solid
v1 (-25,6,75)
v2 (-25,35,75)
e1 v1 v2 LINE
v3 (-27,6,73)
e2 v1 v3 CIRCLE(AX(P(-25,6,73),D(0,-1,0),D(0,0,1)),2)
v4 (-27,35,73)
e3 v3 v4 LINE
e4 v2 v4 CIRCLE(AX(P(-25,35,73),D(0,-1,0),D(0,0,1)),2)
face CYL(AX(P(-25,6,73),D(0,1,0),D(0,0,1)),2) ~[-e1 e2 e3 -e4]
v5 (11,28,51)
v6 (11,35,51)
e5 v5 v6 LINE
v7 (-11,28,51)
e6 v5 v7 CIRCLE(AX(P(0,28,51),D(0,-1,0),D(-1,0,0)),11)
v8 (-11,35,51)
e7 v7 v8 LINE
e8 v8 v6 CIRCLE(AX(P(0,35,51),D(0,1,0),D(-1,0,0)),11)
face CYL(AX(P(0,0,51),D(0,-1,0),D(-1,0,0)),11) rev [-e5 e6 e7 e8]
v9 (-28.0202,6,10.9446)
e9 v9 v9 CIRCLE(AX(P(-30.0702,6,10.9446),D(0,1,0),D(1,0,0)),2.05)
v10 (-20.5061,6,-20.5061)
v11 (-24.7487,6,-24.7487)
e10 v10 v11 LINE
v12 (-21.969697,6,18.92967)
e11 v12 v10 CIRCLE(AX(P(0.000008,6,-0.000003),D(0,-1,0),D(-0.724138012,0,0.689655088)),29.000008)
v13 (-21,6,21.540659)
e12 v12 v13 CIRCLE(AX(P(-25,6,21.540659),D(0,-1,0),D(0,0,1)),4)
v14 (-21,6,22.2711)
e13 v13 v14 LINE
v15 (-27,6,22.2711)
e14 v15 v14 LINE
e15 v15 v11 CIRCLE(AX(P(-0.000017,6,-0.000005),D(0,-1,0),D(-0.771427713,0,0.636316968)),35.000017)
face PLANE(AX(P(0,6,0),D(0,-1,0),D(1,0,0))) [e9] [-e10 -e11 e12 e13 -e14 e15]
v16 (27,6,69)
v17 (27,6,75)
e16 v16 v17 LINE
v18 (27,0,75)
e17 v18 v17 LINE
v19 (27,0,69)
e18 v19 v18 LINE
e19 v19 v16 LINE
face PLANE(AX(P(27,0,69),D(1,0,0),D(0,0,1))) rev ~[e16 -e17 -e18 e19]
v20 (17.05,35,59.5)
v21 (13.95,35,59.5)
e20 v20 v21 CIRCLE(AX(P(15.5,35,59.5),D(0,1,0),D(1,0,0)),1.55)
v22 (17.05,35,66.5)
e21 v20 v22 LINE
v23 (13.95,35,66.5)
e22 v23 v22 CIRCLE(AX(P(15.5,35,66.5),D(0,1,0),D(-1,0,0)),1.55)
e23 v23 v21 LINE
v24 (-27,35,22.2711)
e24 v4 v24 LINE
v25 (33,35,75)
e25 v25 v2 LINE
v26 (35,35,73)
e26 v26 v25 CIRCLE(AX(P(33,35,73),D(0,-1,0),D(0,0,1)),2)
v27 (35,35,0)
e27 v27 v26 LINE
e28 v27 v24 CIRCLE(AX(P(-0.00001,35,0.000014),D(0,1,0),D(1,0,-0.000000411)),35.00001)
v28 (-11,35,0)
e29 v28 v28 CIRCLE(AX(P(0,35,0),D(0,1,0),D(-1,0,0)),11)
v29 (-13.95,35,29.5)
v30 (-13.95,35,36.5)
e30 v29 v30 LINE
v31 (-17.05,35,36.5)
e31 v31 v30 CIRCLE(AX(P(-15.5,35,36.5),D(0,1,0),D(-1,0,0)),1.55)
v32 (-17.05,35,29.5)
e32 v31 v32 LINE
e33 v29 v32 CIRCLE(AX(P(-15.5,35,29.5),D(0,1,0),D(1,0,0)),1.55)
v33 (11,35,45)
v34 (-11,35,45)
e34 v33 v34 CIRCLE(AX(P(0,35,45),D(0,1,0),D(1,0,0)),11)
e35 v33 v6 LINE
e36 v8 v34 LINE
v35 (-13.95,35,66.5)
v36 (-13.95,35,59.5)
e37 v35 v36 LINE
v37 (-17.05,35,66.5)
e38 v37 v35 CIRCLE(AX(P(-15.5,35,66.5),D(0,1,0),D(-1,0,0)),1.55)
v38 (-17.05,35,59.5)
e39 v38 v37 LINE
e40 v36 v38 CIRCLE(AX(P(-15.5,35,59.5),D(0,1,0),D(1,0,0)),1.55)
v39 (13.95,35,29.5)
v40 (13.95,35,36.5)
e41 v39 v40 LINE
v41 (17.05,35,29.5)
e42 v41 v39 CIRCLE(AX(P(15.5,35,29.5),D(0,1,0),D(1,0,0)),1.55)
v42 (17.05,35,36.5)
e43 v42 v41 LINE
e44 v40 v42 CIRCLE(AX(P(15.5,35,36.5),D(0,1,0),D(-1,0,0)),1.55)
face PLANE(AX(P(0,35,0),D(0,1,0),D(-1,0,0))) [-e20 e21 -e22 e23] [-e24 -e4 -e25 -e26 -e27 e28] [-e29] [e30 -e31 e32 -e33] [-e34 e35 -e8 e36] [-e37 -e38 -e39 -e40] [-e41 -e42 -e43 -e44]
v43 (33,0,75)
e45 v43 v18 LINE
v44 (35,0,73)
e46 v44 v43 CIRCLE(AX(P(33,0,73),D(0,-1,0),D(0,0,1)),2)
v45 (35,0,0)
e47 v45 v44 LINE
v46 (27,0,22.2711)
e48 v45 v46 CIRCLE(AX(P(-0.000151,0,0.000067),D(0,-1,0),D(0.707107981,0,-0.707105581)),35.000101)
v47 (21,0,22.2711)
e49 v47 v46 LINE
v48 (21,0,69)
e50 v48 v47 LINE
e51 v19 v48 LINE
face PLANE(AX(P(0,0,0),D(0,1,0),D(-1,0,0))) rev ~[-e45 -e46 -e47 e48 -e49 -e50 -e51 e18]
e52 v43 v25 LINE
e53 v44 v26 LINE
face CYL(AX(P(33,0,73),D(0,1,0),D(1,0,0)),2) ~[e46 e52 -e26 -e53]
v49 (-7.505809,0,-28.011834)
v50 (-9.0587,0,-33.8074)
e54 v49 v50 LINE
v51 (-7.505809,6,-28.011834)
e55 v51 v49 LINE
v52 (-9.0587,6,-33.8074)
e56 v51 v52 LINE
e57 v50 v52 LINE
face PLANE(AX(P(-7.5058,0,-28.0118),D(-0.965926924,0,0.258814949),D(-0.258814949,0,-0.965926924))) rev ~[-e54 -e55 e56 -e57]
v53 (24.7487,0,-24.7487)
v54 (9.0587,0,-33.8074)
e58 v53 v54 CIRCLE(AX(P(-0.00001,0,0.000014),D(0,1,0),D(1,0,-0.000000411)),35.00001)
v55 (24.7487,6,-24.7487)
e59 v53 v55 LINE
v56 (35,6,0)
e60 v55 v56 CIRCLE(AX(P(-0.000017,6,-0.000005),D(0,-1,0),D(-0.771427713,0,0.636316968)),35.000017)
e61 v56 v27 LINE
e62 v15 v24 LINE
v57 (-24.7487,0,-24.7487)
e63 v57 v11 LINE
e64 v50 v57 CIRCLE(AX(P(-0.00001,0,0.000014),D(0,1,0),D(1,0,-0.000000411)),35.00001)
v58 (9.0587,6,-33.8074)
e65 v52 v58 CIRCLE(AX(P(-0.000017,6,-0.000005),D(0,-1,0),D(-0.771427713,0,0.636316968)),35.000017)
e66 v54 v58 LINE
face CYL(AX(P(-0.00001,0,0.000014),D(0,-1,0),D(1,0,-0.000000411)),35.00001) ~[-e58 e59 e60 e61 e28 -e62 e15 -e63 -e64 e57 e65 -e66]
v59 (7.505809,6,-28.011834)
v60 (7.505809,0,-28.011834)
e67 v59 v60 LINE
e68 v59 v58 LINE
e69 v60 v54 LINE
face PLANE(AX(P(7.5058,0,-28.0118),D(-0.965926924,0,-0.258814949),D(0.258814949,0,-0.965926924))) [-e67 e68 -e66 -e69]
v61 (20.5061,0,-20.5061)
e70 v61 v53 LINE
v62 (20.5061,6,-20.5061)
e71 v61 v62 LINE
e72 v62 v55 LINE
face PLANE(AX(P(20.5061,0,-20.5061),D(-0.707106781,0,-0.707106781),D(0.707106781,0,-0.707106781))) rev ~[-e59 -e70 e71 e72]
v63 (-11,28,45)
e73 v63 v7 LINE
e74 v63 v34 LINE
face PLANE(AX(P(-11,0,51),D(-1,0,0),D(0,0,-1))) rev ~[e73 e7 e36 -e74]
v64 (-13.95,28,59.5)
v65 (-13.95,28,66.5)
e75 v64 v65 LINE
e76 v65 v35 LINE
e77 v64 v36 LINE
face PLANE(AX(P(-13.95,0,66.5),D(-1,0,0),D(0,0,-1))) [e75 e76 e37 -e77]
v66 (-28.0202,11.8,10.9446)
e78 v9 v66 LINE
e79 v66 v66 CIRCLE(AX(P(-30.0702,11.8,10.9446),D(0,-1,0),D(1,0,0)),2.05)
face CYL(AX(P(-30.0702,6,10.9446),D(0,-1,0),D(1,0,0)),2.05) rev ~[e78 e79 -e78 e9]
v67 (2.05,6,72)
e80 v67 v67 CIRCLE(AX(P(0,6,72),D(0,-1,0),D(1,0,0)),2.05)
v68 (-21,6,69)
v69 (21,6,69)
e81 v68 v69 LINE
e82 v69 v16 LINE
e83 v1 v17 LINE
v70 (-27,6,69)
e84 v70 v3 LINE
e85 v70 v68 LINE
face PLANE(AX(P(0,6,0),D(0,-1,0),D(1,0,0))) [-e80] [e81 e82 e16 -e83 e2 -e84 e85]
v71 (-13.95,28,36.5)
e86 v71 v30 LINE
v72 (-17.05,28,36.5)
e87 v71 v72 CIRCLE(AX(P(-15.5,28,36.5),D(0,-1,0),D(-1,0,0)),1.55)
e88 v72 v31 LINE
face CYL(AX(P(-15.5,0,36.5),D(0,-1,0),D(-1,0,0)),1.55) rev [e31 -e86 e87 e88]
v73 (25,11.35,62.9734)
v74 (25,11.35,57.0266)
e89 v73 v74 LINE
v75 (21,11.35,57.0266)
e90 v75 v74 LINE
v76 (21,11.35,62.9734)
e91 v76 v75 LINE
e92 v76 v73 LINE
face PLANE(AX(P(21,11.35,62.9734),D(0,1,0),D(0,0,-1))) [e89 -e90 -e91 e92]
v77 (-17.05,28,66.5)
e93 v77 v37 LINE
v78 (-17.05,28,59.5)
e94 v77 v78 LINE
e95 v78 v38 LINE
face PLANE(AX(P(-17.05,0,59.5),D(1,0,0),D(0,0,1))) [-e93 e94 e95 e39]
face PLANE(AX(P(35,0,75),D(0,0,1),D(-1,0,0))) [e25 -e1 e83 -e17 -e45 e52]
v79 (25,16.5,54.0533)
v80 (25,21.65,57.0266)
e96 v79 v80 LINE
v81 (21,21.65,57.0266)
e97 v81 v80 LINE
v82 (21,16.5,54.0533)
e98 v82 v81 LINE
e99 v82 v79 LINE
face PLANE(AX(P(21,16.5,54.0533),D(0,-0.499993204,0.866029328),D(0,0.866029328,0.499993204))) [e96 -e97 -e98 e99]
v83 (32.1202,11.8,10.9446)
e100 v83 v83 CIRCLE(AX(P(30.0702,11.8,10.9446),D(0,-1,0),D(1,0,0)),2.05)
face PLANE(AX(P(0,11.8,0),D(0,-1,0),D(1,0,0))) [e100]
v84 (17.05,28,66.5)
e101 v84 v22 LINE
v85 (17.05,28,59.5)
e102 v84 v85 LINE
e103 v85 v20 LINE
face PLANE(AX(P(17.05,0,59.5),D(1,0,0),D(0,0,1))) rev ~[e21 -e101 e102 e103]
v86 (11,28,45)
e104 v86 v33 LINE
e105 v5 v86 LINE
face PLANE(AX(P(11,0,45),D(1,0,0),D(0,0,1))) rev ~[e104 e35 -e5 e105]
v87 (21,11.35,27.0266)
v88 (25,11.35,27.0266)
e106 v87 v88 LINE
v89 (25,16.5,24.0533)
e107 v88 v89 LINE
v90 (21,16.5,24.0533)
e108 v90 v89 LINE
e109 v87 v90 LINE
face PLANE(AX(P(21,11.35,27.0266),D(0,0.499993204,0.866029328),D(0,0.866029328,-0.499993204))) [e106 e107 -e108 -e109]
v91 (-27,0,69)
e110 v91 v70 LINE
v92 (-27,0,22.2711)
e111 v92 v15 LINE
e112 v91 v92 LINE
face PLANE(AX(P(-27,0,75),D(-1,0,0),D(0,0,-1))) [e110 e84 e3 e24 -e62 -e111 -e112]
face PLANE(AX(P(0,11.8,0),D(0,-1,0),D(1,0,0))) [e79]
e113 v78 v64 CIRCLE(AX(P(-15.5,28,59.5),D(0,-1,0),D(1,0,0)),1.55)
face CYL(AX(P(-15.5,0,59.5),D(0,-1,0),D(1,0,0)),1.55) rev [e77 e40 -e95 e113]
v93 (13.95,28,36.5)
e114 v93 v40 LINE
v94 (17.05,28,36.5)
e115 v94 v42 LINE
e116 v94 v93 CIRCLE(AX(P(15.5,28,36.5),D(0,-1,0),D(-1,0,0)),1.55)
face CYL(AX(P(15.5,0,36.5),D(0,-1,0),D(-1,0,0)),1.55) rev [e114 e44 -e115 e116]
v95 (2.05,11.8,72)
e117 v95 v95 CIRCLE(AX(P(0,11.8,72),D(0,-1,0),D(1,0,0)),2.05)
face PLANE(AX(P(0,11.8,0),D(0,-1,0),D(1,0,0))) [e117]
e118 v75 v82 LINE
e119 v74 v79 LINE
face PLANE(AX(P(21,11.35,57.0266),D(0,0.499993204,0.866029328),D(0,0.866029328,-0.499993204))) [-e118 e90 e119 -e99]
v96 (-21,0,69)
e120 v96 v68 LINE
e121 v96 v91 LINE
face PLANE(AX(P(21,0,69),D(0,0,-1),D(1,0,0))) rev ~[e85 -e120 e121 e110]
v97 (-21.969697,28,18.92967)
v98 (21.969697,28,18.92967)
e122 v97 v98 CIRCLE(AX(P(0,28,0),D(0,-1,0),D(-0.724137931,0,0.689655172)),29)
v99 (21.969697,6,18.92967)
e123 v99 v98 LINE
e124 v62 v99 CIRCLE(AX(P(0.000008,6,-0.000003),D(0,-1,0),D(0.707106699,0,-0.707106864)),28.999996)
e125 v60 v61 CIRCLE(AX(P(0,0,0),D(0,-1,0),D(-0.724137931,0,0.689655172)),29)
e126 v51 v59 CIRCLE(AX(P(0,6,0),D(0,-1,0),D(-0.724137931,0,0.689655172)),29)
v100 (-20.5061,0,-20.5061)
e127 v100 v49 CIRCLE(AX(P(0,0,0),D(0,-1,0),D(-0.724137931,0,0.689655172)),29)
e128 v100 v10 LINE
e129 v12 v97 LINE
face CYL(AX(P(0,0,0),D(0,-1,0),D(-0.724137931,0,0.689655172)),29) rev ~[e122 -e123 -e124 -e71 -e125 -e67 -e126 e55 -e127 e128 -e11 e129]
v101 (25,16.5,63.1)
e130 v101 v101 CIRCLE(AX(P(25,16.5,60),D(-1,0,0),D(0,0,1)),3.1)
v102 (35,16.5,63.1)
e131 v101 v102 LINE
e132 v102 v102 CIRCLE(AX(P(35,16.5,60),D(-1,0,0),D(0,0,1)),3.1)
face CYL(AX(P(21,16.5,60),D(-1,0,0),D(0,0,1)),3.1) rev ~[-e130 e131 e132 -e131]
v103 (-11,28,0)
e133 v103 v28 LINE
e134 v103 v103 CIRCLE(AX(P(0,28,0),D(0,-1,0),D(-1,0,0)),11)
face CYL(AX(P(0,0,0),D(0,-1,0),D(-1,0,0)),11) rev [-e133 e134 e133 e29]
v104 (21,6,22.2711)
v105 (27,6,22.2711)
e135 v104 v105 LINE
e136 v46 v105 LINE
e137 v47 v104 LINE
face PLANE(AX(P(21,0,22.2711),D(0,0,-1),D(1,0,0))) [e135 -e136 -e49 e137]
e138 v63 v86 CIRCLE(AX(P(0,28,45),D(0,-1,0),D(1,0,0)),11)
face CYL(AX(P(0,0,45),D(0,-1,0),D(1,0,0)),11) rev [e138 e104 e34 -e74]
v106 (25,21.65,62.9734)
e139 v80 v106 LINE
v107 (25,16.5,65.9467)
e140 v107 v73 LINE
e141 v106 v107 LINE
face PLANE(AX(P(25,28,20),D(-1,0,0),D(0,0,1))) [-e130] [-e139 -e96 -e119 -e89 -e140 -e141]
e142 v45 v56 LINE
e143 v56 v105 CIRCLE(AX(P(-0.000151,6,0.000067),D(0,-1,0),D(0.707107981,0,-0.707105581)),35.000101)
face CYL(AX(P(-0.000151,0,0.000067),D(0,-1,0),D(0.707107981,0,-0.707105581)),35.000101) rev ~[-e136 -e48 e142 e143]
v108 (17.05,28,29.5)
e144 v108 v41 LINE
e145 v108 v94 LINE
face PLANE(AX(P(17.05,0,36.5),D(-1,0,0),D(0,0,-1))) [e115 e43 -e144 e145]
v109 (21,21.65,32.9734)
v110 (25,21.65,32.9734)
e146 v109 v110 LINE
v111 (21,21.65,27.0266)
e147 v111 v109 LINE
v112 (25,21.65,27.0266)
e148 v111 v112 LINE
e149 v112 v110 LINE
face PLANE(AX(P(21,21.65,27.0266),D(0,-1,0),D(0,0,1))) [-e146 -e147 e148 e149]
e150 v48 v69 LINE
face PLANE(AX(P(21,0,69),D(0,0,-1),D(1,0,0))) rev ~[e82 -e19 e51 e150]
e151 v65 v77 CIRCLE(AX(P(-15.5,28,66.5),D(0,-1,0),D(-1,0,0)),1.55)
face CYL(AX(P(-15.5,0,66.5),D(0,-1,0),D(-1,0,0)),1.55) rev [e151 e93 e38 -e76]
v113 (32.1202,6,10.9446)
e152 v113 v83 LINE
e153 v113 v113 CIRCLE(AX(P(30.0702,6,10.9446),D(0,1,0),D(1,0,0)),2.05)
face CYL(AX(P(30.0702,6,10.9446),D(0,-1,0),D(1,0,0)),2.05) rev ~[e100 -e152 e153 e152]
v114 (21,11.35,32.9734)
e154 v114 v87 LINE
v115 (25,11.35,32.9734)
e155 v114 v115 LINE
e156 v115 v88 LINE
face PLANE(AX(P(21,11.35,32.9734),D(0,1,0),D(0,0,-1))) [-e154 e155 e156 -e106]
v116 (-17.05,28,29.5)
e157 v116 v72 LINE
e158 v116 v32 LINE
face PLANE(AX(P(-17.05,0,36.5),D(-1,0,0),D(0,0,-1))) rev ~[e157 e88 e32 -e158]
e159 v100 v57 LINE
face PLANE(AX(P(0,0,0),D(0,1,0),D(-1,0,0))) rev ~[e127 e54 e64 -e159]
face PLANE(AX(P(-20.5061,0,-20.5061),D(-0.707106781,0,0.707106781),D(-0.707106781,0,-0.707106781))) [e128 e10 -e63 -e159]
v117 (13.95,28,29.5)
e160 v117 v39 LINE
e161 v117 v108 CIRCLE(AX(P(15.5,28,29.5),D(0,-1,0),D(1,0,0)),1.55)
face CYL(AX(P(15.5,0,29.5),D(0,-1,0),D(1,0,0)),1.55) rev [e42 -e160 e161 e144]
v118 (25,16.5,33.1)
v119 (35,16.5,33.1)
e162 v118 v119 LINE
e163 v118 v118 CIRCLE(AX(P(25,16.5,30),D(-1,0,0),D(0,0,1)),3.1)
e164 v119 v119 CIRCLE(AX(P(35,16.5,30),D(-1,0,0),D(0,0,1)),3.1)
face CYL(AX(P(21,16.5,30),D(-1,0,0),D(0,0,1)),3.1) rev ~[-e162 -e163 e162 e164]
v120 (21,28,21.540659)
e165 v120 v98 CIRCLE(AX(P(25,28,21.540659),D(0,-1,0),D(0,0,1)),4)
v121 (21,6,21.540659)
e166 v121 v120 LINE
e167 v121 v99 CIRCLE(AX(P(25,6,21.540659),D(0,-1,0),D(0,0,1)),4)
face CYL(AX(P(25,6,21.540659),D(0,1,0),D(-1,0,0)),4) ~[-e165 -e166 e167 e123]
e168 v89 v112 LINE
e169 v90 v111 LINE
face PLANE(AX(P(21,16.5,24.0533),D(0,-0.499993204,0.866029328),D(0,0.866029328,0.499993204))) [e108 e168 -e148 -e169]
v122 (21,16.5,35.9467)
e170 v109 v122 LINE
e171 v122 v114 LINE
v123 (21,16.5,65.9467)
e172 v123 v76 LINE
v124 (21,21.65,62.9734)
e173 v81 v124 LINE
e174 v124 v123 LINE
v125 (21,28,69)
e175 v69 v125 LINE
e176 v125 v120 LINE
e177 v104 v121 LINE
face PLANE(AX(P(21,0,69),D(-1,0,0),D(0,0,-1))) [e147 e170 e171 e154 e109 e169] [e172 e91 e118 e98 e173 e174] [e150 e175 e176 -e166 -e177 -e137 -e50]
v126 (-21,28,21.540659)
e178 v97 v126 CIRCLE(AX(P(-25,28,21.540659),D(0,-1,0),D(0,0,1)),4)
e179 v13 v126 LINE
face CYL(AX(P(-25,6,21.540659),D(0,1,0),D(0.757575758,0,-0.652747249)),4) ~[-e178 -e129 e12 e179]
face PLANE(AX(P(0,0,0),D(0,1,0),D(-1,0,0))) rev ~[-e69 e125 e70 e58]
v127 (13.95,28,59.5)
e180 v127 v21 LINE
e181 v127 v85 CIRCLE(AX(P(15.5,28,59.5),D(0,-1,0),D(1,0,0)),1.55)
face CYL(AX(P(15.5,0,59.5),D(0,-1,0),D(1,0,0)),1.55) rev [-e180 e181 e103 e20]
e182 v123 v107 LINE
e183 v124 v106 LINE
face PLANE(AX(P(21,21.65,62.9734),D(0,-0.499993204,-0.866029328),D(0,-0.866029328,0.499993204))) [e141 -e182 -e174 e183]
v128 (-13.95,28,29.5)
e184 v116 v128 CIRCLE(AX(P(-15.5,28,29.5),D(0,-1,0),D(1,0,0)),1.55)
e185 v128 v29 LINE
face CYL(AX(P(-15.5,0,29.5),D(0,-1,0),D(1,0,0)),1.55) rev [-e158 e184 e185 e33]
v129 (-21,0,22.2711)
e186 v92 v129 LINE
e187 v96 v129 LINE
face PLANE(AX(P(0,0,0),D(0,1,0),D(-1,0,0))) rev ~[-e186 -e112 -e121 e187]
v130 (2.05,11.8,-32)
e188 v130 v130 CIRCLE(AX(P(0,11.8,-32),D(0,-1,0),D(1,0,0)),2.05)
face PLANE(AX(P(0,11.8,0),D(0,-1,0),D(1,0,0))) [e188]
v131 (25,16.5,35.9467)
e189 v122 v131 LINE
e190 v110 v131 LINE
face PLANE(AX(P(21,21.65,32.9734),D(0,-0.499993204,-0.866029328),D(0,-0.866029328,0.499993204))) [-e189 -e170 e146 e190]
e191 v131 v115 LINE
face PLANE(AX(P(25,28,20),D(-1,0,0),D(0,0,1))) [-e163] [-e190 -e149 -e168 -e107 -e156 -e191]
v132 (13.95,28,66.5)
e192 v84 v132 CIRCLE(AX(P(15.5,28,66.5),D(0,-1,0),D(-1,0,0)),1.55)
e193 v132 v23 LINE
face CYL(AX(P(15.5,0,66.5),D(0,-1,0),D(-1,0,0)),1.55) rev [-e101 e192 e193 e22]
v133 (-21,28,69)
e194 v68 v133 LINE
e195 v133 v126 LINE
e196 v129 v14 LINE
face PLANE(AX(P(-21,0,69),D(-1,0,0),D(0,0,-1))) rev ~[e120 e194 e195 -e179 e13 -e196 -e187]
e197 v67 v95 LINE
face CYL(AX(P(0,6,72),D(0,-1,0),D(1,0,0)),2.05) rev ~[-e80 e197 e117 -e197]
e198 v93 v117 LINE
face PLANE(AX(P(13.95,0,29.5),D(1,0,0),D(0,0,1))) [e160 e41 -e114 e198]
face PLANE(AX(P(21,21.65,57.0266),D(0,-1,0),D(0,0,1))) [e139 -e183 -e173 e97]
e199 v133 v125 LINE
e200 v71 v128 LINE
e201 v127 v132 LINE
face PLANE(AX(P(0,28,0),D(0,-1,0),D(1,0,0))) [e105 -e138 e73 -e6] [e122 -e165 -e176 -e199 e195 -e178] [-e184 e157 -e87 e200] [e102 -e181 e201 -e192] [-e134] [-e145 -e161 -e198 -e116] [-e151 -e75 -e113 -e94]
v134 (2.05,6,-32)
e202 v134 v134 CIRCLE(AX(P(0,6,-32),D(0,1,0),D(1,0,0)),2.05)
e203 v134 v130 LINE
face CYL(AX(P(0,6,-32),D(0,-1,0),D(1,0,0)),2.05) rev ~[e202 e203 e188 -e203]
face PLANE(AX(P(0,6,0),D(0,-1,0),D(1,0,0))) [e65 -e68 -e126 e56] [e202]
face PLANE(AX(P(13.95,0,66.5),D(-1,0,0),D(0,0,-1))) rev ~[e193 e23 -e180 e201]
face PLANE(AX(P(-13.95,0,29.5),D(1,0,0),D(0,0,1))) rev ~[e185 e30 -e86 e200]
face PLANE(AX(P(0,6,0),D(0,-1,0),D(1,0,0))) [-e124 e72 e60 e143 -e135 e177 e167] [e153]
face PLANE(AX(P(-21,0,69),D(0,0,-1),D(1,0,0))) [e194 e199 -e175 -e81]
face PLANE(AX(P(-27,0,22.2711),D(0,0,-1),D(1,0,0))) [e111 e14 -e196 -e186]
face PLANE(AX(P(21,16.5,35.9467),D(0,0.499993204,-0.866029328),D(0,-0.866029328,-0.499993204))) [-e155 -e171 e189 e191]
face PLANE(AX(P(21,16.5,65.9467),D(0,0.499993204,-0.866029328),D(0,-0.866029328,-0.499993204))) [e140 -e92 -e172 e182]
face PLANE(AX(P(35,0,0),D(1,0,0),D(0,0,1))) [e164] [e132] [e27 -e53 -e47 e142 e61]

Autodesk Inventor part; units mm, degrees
ref_plane "YZ Plane" through (0, 0, 0) normal (1, 0, 0) x (0, 1, 0)
ref_plane "XZ Plane" through (0, 0, 0) normal (0, 1, 0) x (-1, 0, 0)
ref_plane "XY Plane" through (0, 0, 0) normal (0, 0, 1) x (1, 0, 0)
sketch "Boceto1" plane through (0, 0, 0) normal (0, 1, 0) x (-1, 0, 0)
  circle A0 centre (0, 0) radius 11
  arc A1 (-35, 0) -> (27, 22.2711) centre (0, 0) ccw
  line L0 (-35, 0) -> (-35, 75)
  line L1 (-35, 75) -> (27, 75)
  line L2 (27, 75) -> (27, 22.2711)
  arc A2 (-11, 45) -> (11, 45) centre (0, 45) ccw
  arc A3 (11, 51) -> (-11, 51) centre (0, 51) ccw
  line L3 (11, 51) -> (11, 45)
  line L4 (-11, 45) -> (-11, 51)
  line L5 (15.5, 66.5) -> (15.5, 59.5) construction
  line L6 (13.95, 66.5) -> (13.95, 59.5)
  line L7 (17.05, 59.5) -> (17.05, 66.5)
  arc A4 (17.05, 66.5) -> (13.95, 66.5) centre (15.5, 66.5) ccw
  arc A5 (13.95, 59.5) -> (17.05, 59.5) centre (15.5, 59.5) ccw
  line L8 (0, 51) -> (0, 45)
  line L9 (0, 48) -> (2.6814, 48)
  line L10 (15.5, 29.5) -> (15.5, 36.5) construction
  line L11 (13.95, 29.5) -> (13.95, 36.5)
  line L12 (17.05, 36.5) -> (17.05, 29.5)
  arc A6 (13.95, 29.5) -> (17.05, 29.5) centre (15.5, 29.5) ccw
  arc A7 (17.05, 36.5) -> (13.95, 36.5) centre (15.5, 36.5) ccw
  line L13 (-15.5, 66.5) -> (-15.5, 59.5) construction
  line L14 (-13.95, 66.5) -> (-13.95, 59.5)
  line L15 (-17.05, 59.5) -> (-17.05, 66.5)
  arc A8 (-13.95, 66.5) -> (-17.05, 66.5) centre (-15.5, 66.5) ccw
  arc A9 (-17.05, 59.5) -> (-13.95, 59.5) centre (-15.5, 59.5) ccw
  line L16 (-13.95, 29.5) -> (-13.95, 36.5)
  line L17 (-15.5, 29.5) -> (-15.5, 36.5) construction
  line L18 (-17.05, 36.5) -> (-17.05, 29.5)
  arc A10 (-17.05, 29.5) -> (-13.95, 29.5) centre (-15.5, 29.5) ccw
  arc A11 (-13.95, 36.5) -> (-17.05, 36.5) centre (-15.5, 36.5) ccw
  point P0 (15.5, 63)
  point P1 (15.5, 33)
  point P2 (-15.5, 63)
  point P3 (-15.5, 33)
  dimension "d0" = 22
  dimension "d1" = 70
  dimension "d2" = 75
  dimension "d3" = 62
  dimension "d4" = 22
  dimension "d5" = 45
  dimension "d6" = 22
  dimension "d7" = 6
  dimension "d8" = 3.1
  dimension "d9" = 7
  dimension "d10" = 15.5
extrude "Extrusión1" add sketch "Boceto1" along normal blind 35
sketch "Boceto3" plane through (0, 0, 0) normal (0, -1, 0) x (1, 0, 0)
  line L0 (-21, 69) -> (21, 69)
  arc A0 (-21, 20) -> (21, 20) centre (0, 0) ccw
  line L1 (-27, 22.2711) -> (-27, 75) projected
  line L2 (-27, 75) -> (35, 75) projected
  line L3 (35, 75) -> (35, 0) projected
  line L4 (-21, 69) -> (-21, 20)
  line L5 (21, 69) -> (21, 20)
  dimension "d15" = 6
  dimension "d17" = 58
extrude "Extrusión2" cut sketch "Boceto3" against normal blind 28
sketch "Boceto4" plane through (0, 0, 0) normal (0, -1, 0) x (1, 0, 0)
  line L0 (-27, 75) -> (35, 75) projected
  line L1 (-27, 22.2711) -> (-27, 75) projected
  line L2 (27, 75) -> (-27, 75)
  line L3 (-27, 75) -> (-27, 69)
  line L4 (-27, 69) -> (27, 69)
  line L5 (27, 69) -> (27, 75)
  line L6 (-21, 69) -> (21, 69) projected
  line L7 (35, 75) -> (35, 0) projected
  line L8 (-20.5061, -20.5061) -> (-24.7487, -24.7487)
  arc A0 (-27, 22.2711) -> (35, 0) centre (0, 0) ccw projected
  line L9 (8.2115, 0) -> (-7.5561, 0)
  line L10 (-27, 22.2711) -> (-21, 22.2711)
  line L11 (-21, 20) -> (-21, 69) projected
  line L12 (-21, 22.2711) -> (-21, 20)
  arc A1 (-27, 22.2711) -> (-24.7487, -24.7487) centre (0, 0) ccw
  line L13 (20.5061, -20.5061) -> (24.7487, -24.7487)
  line L14 (21, 69) -> (21, 20) projected
  line L15 (21, 22.2711) -> (27, 22.2711)
  line L16 (21, 22.2711) -> (21, 20)
  arc A2 (20.5061, -20.5061) -> (21, 20) centre (0, 0) ccw
  arc A3 (24.7487, -24.7487) -> (27, 22.2711) centre (0, 0) ccw
  circle A4 centre (0, 0) radius 11 projected
  line L17 (0, 2.7283) -> (0, -7.844)
  line L18 (7.5058, -28.0118) -> (9.0587, -33.8074)
  line L19 (-7.5058, -28.0118) -> (-9.0587, -33.8074)
  arc A5 (-7.5058, -28.0118) -> (7.5058, -28.0118) centre (0, 0) ccw
  arc A6 (-9.0587, -33.8074) -> (9.0587, -33.8074) centre (0, 0) ccw
  arc A7 (-21, 20) -> (-20.5061, -20.5061) centre (0, 0) ccw
  dimension "d20" = 0
  dimension "d21" = 8
  dimension "d22" = 45
  dimension "d24" = 35
  dimension "d25" = 45
extrude "Extrusión3" cut sketch "Boceto4" against normal blind 6 contours L0 L5 L4 L1 | L10 L11 A7 L8 A0 | A0 L13 A2 L14 L15 A3 | L19 A5 L18 A0
sketch "Boceto5" plane through (21, 28, 20) normal (-1, 0, 0) x (0, 0, 1)
  line L0 (49, -22) -> (49, 0) projected
  line L1 (2.2711, -22) -> (49, -22)
  circle A0 centre (10, -11.5) radius 3.1
  circle A1 centre (40, -11.5) radius 3.1
  line L2 (55, -22) -> (55, 7) projected
  line L3 (-20, -22) -> (-20, 7) projected
  point P0 (-20, -28)
  dimension "d30" = 6.2
  dimension "d31" = 30
  dimension "d32" = 15
  dimension "d33" = 10.5
  dimension "d34" = 10.5
  dimension "d50" = 30
extrude "Extrusión4" cut sketch "Boceto5" against normal up to next
sketch "Boceto6" plane through (21, 28, 20) normal (-1, 0, 0) x (0, 0, 1)
  circle A0 centre (40, -11.5) radius 3.1 projected
  line L0 (37.0266, -16.65) -> (34.0533, -11.5)
  line L1 (34.0533, -11.5) -> (37.0266, -6.35)
  line L2 (37.0266, -6.35) -> (42.9734, -6.35)
  line L3 (42.9734, -6.35) -> (45.9467, -11.5)
  line L4 (45.9467, -11.5) -> (42.9734, -16.65)
  line L5 (42.9734, -16.65) -> (37.0266, -16.65)
  circle A1 centre (10, -11.5) radius 3.1 projected
  line L6 (7.0266, -16.65) -> (4.0533, -11.5)
  line L7 (4.0533, -11.5) -> (7.0266, -6.35)
  line L8 (7.0266, -6.35) -> (12.9734, -6.35)
  line L9 (12.9734, -6.35) -> (15.9467, -11.5)
  line L10 (15.9467, -11.5) -> (12.9734, -16.65)
  line L11 (12.9734, -16.65) -> (7.0266, -16.65)
  line L12 (49, -28) -> (2.2711, -28) projected
  point P0 (-20, -28)
  dimension "d37" = 10.3
extrude "Extrusión5" cut sketch "Boceto6" against normal blind 4
fillet "Empalme1" radius 2 2 edges at (-27, 20.5, 75) (35, 17.5, 75)
fillet "Empalme2" radius 4 2 edges at (21, 17, 20) (-21, 17, 20)
sketch "Boceto8" plane through (0, 6, 0) normal (0, -1, 0) x (1, 0, 0)
  line L0 (-25, 75) -> (27, 75) projected
  line L1 (27, 75) -> (27, 69) projected
  line L2 (27, 75) -> (27, 69)
  line L3 (27, 69) -> (21, 69)
  line L4 (21, 22.2711) -> (27, 22.2711) projected
  line L5 (21, 69) -> (21, 22.2711)
  line L6 (21, 22.2711) -> (27, 22.2711)
  line L7 (24.7487, -24.7487) -> (20.5061, -20.5061) projected
  line L8 (24.7487, -24.7487) -> (20.5061, -20.5061) projected
  line L9 (20.5061, -20.5061) -> (24.7487, -24.7487)
  line L10 (7.5058, -28.0118) -> (9.0587, -33.8074) projected
  line L11 (7.5058, -28.0118) -> (9.0587, -33.8074)
  line L12 (-9.0587, -33.8074) -> (-7.5058, -28.0118) projected
  line L13 (-7.5058, -28.0118) -> (-9.0587, -33.8074)
  line L14 (-20.5061, -20.5061) -> (-24.7487, -24.7487) projected
  line L15 (-20.5061, -20.5061) -> (-24.7487, -24.7487)
  arc A0 (-27, 22.2711) -> (35, 0) centre (0, 0) ccw projected
  line L16 (-27, 22.2711) -> (-21, 22.2711) projected
  line L17 (-27, 22.2711) -> (-21, 22.2711)
  arc A1 (-27, 22.2711) -> (-24.7487, -24.7487) centre (0, 0) ccw
  arc A2 (-9.0587, -33.8074) -> (9.0587, -33.8074) centre (0, 0) ccw
  arc A3 (24.7487, -24.7487) -> (27, 22.2711) centre (0, 0) ccw
  arc A4 (20.5061, -20.5061) -> (21.9697, 18.9297) centre (0, 0) ccw projected
  arc A5 (7.5058, -28.0118) -> (20.5061, -20.5061) centre (0, 0) ccw
  arc A6 (-20.5061, -20.5061) -> (-7.5058, -28.0118) centre (0, 0) ccw
  circle A7 centre (0, 0) radius 11
  circle A8 centre (0, -32) radius 2 projected
  circle A9 centre (29.8743, 10.8734) radius 2 projected
  circle A10 centre (-29.8743, 10.8734) radius 2 projected
  line L18 (-27, 69) -> (-27, 75)
  line L19 (-27, 69) -> (-27, 73) projected
  line L20 (-27, 75) -> (-25, 75)
  line L21 (-27, 69) -> (-21, 69)
  line L22 (-21, 69) -> (-21, 22.2711)
  line L23 (-21, 21.5407) -> (-21, 69) projected
  line L24 (-27, 22.2711) -> (-21, 22.2711)
  circle A11 centre (0, 72) radius 2 projected
  circle A12 centre (0, 72) radius 2.05
  circle A13 centre (29.8743, 10.8734) radius 2.05
  circle A14 centre (0, -32) radius 2.05
  circle A15 centre (-29.8743, 10.8734) radius 2.05
  dimension "d51" = 6
  dimension "d52" = 46.7289
  dimension "d62" = 4.1
sketch "Boceto10" plane through (0, 6, 0) normal (0, -1, 0) x (1, 0, 0)
  circle A0 centre (0, 72) radius 2.05
  line L0 (6.7845, 0) -> (-6.2714, 0)
  circle A1 centre (0, 0) radius 32
  circle A2 centre (30.0702, 10.9446) radius 2.05
  circle A3 centre (0, -32) radius 2.05
  circle A4 centre (-30.0702, 10.9446) radius 2.05
  circle A5 centre (0, 0) radius 11 projected
  line L1 (0, 0) -> (-30.0702, 10.9446)
  line L2 (0, 0) -> (30.0702, 10.9446)
  line L3 (-25, 75) -> (27, 75) projected
  dimension "d63" = 64
  dimension "d64" = 20
  dimension "d65" = 20
  dimension "d66" = 4.1
  dimension "d69" = 3
extrude "Extrusión8" cut sketch "Boceto10" against normal blind 5.8 contours A0 | A2 L2 A1 | A1 A2 | A3 A1 | A1 A3 | L2 A2 A1 | A4 A1 | A1 L1 A4 | A4 L1 A1
equation "\"d12\" = Altura"
equation "\"Altura\" = 35"
properties part number "Caja reductora - eje z" material "Plastico PETG"
